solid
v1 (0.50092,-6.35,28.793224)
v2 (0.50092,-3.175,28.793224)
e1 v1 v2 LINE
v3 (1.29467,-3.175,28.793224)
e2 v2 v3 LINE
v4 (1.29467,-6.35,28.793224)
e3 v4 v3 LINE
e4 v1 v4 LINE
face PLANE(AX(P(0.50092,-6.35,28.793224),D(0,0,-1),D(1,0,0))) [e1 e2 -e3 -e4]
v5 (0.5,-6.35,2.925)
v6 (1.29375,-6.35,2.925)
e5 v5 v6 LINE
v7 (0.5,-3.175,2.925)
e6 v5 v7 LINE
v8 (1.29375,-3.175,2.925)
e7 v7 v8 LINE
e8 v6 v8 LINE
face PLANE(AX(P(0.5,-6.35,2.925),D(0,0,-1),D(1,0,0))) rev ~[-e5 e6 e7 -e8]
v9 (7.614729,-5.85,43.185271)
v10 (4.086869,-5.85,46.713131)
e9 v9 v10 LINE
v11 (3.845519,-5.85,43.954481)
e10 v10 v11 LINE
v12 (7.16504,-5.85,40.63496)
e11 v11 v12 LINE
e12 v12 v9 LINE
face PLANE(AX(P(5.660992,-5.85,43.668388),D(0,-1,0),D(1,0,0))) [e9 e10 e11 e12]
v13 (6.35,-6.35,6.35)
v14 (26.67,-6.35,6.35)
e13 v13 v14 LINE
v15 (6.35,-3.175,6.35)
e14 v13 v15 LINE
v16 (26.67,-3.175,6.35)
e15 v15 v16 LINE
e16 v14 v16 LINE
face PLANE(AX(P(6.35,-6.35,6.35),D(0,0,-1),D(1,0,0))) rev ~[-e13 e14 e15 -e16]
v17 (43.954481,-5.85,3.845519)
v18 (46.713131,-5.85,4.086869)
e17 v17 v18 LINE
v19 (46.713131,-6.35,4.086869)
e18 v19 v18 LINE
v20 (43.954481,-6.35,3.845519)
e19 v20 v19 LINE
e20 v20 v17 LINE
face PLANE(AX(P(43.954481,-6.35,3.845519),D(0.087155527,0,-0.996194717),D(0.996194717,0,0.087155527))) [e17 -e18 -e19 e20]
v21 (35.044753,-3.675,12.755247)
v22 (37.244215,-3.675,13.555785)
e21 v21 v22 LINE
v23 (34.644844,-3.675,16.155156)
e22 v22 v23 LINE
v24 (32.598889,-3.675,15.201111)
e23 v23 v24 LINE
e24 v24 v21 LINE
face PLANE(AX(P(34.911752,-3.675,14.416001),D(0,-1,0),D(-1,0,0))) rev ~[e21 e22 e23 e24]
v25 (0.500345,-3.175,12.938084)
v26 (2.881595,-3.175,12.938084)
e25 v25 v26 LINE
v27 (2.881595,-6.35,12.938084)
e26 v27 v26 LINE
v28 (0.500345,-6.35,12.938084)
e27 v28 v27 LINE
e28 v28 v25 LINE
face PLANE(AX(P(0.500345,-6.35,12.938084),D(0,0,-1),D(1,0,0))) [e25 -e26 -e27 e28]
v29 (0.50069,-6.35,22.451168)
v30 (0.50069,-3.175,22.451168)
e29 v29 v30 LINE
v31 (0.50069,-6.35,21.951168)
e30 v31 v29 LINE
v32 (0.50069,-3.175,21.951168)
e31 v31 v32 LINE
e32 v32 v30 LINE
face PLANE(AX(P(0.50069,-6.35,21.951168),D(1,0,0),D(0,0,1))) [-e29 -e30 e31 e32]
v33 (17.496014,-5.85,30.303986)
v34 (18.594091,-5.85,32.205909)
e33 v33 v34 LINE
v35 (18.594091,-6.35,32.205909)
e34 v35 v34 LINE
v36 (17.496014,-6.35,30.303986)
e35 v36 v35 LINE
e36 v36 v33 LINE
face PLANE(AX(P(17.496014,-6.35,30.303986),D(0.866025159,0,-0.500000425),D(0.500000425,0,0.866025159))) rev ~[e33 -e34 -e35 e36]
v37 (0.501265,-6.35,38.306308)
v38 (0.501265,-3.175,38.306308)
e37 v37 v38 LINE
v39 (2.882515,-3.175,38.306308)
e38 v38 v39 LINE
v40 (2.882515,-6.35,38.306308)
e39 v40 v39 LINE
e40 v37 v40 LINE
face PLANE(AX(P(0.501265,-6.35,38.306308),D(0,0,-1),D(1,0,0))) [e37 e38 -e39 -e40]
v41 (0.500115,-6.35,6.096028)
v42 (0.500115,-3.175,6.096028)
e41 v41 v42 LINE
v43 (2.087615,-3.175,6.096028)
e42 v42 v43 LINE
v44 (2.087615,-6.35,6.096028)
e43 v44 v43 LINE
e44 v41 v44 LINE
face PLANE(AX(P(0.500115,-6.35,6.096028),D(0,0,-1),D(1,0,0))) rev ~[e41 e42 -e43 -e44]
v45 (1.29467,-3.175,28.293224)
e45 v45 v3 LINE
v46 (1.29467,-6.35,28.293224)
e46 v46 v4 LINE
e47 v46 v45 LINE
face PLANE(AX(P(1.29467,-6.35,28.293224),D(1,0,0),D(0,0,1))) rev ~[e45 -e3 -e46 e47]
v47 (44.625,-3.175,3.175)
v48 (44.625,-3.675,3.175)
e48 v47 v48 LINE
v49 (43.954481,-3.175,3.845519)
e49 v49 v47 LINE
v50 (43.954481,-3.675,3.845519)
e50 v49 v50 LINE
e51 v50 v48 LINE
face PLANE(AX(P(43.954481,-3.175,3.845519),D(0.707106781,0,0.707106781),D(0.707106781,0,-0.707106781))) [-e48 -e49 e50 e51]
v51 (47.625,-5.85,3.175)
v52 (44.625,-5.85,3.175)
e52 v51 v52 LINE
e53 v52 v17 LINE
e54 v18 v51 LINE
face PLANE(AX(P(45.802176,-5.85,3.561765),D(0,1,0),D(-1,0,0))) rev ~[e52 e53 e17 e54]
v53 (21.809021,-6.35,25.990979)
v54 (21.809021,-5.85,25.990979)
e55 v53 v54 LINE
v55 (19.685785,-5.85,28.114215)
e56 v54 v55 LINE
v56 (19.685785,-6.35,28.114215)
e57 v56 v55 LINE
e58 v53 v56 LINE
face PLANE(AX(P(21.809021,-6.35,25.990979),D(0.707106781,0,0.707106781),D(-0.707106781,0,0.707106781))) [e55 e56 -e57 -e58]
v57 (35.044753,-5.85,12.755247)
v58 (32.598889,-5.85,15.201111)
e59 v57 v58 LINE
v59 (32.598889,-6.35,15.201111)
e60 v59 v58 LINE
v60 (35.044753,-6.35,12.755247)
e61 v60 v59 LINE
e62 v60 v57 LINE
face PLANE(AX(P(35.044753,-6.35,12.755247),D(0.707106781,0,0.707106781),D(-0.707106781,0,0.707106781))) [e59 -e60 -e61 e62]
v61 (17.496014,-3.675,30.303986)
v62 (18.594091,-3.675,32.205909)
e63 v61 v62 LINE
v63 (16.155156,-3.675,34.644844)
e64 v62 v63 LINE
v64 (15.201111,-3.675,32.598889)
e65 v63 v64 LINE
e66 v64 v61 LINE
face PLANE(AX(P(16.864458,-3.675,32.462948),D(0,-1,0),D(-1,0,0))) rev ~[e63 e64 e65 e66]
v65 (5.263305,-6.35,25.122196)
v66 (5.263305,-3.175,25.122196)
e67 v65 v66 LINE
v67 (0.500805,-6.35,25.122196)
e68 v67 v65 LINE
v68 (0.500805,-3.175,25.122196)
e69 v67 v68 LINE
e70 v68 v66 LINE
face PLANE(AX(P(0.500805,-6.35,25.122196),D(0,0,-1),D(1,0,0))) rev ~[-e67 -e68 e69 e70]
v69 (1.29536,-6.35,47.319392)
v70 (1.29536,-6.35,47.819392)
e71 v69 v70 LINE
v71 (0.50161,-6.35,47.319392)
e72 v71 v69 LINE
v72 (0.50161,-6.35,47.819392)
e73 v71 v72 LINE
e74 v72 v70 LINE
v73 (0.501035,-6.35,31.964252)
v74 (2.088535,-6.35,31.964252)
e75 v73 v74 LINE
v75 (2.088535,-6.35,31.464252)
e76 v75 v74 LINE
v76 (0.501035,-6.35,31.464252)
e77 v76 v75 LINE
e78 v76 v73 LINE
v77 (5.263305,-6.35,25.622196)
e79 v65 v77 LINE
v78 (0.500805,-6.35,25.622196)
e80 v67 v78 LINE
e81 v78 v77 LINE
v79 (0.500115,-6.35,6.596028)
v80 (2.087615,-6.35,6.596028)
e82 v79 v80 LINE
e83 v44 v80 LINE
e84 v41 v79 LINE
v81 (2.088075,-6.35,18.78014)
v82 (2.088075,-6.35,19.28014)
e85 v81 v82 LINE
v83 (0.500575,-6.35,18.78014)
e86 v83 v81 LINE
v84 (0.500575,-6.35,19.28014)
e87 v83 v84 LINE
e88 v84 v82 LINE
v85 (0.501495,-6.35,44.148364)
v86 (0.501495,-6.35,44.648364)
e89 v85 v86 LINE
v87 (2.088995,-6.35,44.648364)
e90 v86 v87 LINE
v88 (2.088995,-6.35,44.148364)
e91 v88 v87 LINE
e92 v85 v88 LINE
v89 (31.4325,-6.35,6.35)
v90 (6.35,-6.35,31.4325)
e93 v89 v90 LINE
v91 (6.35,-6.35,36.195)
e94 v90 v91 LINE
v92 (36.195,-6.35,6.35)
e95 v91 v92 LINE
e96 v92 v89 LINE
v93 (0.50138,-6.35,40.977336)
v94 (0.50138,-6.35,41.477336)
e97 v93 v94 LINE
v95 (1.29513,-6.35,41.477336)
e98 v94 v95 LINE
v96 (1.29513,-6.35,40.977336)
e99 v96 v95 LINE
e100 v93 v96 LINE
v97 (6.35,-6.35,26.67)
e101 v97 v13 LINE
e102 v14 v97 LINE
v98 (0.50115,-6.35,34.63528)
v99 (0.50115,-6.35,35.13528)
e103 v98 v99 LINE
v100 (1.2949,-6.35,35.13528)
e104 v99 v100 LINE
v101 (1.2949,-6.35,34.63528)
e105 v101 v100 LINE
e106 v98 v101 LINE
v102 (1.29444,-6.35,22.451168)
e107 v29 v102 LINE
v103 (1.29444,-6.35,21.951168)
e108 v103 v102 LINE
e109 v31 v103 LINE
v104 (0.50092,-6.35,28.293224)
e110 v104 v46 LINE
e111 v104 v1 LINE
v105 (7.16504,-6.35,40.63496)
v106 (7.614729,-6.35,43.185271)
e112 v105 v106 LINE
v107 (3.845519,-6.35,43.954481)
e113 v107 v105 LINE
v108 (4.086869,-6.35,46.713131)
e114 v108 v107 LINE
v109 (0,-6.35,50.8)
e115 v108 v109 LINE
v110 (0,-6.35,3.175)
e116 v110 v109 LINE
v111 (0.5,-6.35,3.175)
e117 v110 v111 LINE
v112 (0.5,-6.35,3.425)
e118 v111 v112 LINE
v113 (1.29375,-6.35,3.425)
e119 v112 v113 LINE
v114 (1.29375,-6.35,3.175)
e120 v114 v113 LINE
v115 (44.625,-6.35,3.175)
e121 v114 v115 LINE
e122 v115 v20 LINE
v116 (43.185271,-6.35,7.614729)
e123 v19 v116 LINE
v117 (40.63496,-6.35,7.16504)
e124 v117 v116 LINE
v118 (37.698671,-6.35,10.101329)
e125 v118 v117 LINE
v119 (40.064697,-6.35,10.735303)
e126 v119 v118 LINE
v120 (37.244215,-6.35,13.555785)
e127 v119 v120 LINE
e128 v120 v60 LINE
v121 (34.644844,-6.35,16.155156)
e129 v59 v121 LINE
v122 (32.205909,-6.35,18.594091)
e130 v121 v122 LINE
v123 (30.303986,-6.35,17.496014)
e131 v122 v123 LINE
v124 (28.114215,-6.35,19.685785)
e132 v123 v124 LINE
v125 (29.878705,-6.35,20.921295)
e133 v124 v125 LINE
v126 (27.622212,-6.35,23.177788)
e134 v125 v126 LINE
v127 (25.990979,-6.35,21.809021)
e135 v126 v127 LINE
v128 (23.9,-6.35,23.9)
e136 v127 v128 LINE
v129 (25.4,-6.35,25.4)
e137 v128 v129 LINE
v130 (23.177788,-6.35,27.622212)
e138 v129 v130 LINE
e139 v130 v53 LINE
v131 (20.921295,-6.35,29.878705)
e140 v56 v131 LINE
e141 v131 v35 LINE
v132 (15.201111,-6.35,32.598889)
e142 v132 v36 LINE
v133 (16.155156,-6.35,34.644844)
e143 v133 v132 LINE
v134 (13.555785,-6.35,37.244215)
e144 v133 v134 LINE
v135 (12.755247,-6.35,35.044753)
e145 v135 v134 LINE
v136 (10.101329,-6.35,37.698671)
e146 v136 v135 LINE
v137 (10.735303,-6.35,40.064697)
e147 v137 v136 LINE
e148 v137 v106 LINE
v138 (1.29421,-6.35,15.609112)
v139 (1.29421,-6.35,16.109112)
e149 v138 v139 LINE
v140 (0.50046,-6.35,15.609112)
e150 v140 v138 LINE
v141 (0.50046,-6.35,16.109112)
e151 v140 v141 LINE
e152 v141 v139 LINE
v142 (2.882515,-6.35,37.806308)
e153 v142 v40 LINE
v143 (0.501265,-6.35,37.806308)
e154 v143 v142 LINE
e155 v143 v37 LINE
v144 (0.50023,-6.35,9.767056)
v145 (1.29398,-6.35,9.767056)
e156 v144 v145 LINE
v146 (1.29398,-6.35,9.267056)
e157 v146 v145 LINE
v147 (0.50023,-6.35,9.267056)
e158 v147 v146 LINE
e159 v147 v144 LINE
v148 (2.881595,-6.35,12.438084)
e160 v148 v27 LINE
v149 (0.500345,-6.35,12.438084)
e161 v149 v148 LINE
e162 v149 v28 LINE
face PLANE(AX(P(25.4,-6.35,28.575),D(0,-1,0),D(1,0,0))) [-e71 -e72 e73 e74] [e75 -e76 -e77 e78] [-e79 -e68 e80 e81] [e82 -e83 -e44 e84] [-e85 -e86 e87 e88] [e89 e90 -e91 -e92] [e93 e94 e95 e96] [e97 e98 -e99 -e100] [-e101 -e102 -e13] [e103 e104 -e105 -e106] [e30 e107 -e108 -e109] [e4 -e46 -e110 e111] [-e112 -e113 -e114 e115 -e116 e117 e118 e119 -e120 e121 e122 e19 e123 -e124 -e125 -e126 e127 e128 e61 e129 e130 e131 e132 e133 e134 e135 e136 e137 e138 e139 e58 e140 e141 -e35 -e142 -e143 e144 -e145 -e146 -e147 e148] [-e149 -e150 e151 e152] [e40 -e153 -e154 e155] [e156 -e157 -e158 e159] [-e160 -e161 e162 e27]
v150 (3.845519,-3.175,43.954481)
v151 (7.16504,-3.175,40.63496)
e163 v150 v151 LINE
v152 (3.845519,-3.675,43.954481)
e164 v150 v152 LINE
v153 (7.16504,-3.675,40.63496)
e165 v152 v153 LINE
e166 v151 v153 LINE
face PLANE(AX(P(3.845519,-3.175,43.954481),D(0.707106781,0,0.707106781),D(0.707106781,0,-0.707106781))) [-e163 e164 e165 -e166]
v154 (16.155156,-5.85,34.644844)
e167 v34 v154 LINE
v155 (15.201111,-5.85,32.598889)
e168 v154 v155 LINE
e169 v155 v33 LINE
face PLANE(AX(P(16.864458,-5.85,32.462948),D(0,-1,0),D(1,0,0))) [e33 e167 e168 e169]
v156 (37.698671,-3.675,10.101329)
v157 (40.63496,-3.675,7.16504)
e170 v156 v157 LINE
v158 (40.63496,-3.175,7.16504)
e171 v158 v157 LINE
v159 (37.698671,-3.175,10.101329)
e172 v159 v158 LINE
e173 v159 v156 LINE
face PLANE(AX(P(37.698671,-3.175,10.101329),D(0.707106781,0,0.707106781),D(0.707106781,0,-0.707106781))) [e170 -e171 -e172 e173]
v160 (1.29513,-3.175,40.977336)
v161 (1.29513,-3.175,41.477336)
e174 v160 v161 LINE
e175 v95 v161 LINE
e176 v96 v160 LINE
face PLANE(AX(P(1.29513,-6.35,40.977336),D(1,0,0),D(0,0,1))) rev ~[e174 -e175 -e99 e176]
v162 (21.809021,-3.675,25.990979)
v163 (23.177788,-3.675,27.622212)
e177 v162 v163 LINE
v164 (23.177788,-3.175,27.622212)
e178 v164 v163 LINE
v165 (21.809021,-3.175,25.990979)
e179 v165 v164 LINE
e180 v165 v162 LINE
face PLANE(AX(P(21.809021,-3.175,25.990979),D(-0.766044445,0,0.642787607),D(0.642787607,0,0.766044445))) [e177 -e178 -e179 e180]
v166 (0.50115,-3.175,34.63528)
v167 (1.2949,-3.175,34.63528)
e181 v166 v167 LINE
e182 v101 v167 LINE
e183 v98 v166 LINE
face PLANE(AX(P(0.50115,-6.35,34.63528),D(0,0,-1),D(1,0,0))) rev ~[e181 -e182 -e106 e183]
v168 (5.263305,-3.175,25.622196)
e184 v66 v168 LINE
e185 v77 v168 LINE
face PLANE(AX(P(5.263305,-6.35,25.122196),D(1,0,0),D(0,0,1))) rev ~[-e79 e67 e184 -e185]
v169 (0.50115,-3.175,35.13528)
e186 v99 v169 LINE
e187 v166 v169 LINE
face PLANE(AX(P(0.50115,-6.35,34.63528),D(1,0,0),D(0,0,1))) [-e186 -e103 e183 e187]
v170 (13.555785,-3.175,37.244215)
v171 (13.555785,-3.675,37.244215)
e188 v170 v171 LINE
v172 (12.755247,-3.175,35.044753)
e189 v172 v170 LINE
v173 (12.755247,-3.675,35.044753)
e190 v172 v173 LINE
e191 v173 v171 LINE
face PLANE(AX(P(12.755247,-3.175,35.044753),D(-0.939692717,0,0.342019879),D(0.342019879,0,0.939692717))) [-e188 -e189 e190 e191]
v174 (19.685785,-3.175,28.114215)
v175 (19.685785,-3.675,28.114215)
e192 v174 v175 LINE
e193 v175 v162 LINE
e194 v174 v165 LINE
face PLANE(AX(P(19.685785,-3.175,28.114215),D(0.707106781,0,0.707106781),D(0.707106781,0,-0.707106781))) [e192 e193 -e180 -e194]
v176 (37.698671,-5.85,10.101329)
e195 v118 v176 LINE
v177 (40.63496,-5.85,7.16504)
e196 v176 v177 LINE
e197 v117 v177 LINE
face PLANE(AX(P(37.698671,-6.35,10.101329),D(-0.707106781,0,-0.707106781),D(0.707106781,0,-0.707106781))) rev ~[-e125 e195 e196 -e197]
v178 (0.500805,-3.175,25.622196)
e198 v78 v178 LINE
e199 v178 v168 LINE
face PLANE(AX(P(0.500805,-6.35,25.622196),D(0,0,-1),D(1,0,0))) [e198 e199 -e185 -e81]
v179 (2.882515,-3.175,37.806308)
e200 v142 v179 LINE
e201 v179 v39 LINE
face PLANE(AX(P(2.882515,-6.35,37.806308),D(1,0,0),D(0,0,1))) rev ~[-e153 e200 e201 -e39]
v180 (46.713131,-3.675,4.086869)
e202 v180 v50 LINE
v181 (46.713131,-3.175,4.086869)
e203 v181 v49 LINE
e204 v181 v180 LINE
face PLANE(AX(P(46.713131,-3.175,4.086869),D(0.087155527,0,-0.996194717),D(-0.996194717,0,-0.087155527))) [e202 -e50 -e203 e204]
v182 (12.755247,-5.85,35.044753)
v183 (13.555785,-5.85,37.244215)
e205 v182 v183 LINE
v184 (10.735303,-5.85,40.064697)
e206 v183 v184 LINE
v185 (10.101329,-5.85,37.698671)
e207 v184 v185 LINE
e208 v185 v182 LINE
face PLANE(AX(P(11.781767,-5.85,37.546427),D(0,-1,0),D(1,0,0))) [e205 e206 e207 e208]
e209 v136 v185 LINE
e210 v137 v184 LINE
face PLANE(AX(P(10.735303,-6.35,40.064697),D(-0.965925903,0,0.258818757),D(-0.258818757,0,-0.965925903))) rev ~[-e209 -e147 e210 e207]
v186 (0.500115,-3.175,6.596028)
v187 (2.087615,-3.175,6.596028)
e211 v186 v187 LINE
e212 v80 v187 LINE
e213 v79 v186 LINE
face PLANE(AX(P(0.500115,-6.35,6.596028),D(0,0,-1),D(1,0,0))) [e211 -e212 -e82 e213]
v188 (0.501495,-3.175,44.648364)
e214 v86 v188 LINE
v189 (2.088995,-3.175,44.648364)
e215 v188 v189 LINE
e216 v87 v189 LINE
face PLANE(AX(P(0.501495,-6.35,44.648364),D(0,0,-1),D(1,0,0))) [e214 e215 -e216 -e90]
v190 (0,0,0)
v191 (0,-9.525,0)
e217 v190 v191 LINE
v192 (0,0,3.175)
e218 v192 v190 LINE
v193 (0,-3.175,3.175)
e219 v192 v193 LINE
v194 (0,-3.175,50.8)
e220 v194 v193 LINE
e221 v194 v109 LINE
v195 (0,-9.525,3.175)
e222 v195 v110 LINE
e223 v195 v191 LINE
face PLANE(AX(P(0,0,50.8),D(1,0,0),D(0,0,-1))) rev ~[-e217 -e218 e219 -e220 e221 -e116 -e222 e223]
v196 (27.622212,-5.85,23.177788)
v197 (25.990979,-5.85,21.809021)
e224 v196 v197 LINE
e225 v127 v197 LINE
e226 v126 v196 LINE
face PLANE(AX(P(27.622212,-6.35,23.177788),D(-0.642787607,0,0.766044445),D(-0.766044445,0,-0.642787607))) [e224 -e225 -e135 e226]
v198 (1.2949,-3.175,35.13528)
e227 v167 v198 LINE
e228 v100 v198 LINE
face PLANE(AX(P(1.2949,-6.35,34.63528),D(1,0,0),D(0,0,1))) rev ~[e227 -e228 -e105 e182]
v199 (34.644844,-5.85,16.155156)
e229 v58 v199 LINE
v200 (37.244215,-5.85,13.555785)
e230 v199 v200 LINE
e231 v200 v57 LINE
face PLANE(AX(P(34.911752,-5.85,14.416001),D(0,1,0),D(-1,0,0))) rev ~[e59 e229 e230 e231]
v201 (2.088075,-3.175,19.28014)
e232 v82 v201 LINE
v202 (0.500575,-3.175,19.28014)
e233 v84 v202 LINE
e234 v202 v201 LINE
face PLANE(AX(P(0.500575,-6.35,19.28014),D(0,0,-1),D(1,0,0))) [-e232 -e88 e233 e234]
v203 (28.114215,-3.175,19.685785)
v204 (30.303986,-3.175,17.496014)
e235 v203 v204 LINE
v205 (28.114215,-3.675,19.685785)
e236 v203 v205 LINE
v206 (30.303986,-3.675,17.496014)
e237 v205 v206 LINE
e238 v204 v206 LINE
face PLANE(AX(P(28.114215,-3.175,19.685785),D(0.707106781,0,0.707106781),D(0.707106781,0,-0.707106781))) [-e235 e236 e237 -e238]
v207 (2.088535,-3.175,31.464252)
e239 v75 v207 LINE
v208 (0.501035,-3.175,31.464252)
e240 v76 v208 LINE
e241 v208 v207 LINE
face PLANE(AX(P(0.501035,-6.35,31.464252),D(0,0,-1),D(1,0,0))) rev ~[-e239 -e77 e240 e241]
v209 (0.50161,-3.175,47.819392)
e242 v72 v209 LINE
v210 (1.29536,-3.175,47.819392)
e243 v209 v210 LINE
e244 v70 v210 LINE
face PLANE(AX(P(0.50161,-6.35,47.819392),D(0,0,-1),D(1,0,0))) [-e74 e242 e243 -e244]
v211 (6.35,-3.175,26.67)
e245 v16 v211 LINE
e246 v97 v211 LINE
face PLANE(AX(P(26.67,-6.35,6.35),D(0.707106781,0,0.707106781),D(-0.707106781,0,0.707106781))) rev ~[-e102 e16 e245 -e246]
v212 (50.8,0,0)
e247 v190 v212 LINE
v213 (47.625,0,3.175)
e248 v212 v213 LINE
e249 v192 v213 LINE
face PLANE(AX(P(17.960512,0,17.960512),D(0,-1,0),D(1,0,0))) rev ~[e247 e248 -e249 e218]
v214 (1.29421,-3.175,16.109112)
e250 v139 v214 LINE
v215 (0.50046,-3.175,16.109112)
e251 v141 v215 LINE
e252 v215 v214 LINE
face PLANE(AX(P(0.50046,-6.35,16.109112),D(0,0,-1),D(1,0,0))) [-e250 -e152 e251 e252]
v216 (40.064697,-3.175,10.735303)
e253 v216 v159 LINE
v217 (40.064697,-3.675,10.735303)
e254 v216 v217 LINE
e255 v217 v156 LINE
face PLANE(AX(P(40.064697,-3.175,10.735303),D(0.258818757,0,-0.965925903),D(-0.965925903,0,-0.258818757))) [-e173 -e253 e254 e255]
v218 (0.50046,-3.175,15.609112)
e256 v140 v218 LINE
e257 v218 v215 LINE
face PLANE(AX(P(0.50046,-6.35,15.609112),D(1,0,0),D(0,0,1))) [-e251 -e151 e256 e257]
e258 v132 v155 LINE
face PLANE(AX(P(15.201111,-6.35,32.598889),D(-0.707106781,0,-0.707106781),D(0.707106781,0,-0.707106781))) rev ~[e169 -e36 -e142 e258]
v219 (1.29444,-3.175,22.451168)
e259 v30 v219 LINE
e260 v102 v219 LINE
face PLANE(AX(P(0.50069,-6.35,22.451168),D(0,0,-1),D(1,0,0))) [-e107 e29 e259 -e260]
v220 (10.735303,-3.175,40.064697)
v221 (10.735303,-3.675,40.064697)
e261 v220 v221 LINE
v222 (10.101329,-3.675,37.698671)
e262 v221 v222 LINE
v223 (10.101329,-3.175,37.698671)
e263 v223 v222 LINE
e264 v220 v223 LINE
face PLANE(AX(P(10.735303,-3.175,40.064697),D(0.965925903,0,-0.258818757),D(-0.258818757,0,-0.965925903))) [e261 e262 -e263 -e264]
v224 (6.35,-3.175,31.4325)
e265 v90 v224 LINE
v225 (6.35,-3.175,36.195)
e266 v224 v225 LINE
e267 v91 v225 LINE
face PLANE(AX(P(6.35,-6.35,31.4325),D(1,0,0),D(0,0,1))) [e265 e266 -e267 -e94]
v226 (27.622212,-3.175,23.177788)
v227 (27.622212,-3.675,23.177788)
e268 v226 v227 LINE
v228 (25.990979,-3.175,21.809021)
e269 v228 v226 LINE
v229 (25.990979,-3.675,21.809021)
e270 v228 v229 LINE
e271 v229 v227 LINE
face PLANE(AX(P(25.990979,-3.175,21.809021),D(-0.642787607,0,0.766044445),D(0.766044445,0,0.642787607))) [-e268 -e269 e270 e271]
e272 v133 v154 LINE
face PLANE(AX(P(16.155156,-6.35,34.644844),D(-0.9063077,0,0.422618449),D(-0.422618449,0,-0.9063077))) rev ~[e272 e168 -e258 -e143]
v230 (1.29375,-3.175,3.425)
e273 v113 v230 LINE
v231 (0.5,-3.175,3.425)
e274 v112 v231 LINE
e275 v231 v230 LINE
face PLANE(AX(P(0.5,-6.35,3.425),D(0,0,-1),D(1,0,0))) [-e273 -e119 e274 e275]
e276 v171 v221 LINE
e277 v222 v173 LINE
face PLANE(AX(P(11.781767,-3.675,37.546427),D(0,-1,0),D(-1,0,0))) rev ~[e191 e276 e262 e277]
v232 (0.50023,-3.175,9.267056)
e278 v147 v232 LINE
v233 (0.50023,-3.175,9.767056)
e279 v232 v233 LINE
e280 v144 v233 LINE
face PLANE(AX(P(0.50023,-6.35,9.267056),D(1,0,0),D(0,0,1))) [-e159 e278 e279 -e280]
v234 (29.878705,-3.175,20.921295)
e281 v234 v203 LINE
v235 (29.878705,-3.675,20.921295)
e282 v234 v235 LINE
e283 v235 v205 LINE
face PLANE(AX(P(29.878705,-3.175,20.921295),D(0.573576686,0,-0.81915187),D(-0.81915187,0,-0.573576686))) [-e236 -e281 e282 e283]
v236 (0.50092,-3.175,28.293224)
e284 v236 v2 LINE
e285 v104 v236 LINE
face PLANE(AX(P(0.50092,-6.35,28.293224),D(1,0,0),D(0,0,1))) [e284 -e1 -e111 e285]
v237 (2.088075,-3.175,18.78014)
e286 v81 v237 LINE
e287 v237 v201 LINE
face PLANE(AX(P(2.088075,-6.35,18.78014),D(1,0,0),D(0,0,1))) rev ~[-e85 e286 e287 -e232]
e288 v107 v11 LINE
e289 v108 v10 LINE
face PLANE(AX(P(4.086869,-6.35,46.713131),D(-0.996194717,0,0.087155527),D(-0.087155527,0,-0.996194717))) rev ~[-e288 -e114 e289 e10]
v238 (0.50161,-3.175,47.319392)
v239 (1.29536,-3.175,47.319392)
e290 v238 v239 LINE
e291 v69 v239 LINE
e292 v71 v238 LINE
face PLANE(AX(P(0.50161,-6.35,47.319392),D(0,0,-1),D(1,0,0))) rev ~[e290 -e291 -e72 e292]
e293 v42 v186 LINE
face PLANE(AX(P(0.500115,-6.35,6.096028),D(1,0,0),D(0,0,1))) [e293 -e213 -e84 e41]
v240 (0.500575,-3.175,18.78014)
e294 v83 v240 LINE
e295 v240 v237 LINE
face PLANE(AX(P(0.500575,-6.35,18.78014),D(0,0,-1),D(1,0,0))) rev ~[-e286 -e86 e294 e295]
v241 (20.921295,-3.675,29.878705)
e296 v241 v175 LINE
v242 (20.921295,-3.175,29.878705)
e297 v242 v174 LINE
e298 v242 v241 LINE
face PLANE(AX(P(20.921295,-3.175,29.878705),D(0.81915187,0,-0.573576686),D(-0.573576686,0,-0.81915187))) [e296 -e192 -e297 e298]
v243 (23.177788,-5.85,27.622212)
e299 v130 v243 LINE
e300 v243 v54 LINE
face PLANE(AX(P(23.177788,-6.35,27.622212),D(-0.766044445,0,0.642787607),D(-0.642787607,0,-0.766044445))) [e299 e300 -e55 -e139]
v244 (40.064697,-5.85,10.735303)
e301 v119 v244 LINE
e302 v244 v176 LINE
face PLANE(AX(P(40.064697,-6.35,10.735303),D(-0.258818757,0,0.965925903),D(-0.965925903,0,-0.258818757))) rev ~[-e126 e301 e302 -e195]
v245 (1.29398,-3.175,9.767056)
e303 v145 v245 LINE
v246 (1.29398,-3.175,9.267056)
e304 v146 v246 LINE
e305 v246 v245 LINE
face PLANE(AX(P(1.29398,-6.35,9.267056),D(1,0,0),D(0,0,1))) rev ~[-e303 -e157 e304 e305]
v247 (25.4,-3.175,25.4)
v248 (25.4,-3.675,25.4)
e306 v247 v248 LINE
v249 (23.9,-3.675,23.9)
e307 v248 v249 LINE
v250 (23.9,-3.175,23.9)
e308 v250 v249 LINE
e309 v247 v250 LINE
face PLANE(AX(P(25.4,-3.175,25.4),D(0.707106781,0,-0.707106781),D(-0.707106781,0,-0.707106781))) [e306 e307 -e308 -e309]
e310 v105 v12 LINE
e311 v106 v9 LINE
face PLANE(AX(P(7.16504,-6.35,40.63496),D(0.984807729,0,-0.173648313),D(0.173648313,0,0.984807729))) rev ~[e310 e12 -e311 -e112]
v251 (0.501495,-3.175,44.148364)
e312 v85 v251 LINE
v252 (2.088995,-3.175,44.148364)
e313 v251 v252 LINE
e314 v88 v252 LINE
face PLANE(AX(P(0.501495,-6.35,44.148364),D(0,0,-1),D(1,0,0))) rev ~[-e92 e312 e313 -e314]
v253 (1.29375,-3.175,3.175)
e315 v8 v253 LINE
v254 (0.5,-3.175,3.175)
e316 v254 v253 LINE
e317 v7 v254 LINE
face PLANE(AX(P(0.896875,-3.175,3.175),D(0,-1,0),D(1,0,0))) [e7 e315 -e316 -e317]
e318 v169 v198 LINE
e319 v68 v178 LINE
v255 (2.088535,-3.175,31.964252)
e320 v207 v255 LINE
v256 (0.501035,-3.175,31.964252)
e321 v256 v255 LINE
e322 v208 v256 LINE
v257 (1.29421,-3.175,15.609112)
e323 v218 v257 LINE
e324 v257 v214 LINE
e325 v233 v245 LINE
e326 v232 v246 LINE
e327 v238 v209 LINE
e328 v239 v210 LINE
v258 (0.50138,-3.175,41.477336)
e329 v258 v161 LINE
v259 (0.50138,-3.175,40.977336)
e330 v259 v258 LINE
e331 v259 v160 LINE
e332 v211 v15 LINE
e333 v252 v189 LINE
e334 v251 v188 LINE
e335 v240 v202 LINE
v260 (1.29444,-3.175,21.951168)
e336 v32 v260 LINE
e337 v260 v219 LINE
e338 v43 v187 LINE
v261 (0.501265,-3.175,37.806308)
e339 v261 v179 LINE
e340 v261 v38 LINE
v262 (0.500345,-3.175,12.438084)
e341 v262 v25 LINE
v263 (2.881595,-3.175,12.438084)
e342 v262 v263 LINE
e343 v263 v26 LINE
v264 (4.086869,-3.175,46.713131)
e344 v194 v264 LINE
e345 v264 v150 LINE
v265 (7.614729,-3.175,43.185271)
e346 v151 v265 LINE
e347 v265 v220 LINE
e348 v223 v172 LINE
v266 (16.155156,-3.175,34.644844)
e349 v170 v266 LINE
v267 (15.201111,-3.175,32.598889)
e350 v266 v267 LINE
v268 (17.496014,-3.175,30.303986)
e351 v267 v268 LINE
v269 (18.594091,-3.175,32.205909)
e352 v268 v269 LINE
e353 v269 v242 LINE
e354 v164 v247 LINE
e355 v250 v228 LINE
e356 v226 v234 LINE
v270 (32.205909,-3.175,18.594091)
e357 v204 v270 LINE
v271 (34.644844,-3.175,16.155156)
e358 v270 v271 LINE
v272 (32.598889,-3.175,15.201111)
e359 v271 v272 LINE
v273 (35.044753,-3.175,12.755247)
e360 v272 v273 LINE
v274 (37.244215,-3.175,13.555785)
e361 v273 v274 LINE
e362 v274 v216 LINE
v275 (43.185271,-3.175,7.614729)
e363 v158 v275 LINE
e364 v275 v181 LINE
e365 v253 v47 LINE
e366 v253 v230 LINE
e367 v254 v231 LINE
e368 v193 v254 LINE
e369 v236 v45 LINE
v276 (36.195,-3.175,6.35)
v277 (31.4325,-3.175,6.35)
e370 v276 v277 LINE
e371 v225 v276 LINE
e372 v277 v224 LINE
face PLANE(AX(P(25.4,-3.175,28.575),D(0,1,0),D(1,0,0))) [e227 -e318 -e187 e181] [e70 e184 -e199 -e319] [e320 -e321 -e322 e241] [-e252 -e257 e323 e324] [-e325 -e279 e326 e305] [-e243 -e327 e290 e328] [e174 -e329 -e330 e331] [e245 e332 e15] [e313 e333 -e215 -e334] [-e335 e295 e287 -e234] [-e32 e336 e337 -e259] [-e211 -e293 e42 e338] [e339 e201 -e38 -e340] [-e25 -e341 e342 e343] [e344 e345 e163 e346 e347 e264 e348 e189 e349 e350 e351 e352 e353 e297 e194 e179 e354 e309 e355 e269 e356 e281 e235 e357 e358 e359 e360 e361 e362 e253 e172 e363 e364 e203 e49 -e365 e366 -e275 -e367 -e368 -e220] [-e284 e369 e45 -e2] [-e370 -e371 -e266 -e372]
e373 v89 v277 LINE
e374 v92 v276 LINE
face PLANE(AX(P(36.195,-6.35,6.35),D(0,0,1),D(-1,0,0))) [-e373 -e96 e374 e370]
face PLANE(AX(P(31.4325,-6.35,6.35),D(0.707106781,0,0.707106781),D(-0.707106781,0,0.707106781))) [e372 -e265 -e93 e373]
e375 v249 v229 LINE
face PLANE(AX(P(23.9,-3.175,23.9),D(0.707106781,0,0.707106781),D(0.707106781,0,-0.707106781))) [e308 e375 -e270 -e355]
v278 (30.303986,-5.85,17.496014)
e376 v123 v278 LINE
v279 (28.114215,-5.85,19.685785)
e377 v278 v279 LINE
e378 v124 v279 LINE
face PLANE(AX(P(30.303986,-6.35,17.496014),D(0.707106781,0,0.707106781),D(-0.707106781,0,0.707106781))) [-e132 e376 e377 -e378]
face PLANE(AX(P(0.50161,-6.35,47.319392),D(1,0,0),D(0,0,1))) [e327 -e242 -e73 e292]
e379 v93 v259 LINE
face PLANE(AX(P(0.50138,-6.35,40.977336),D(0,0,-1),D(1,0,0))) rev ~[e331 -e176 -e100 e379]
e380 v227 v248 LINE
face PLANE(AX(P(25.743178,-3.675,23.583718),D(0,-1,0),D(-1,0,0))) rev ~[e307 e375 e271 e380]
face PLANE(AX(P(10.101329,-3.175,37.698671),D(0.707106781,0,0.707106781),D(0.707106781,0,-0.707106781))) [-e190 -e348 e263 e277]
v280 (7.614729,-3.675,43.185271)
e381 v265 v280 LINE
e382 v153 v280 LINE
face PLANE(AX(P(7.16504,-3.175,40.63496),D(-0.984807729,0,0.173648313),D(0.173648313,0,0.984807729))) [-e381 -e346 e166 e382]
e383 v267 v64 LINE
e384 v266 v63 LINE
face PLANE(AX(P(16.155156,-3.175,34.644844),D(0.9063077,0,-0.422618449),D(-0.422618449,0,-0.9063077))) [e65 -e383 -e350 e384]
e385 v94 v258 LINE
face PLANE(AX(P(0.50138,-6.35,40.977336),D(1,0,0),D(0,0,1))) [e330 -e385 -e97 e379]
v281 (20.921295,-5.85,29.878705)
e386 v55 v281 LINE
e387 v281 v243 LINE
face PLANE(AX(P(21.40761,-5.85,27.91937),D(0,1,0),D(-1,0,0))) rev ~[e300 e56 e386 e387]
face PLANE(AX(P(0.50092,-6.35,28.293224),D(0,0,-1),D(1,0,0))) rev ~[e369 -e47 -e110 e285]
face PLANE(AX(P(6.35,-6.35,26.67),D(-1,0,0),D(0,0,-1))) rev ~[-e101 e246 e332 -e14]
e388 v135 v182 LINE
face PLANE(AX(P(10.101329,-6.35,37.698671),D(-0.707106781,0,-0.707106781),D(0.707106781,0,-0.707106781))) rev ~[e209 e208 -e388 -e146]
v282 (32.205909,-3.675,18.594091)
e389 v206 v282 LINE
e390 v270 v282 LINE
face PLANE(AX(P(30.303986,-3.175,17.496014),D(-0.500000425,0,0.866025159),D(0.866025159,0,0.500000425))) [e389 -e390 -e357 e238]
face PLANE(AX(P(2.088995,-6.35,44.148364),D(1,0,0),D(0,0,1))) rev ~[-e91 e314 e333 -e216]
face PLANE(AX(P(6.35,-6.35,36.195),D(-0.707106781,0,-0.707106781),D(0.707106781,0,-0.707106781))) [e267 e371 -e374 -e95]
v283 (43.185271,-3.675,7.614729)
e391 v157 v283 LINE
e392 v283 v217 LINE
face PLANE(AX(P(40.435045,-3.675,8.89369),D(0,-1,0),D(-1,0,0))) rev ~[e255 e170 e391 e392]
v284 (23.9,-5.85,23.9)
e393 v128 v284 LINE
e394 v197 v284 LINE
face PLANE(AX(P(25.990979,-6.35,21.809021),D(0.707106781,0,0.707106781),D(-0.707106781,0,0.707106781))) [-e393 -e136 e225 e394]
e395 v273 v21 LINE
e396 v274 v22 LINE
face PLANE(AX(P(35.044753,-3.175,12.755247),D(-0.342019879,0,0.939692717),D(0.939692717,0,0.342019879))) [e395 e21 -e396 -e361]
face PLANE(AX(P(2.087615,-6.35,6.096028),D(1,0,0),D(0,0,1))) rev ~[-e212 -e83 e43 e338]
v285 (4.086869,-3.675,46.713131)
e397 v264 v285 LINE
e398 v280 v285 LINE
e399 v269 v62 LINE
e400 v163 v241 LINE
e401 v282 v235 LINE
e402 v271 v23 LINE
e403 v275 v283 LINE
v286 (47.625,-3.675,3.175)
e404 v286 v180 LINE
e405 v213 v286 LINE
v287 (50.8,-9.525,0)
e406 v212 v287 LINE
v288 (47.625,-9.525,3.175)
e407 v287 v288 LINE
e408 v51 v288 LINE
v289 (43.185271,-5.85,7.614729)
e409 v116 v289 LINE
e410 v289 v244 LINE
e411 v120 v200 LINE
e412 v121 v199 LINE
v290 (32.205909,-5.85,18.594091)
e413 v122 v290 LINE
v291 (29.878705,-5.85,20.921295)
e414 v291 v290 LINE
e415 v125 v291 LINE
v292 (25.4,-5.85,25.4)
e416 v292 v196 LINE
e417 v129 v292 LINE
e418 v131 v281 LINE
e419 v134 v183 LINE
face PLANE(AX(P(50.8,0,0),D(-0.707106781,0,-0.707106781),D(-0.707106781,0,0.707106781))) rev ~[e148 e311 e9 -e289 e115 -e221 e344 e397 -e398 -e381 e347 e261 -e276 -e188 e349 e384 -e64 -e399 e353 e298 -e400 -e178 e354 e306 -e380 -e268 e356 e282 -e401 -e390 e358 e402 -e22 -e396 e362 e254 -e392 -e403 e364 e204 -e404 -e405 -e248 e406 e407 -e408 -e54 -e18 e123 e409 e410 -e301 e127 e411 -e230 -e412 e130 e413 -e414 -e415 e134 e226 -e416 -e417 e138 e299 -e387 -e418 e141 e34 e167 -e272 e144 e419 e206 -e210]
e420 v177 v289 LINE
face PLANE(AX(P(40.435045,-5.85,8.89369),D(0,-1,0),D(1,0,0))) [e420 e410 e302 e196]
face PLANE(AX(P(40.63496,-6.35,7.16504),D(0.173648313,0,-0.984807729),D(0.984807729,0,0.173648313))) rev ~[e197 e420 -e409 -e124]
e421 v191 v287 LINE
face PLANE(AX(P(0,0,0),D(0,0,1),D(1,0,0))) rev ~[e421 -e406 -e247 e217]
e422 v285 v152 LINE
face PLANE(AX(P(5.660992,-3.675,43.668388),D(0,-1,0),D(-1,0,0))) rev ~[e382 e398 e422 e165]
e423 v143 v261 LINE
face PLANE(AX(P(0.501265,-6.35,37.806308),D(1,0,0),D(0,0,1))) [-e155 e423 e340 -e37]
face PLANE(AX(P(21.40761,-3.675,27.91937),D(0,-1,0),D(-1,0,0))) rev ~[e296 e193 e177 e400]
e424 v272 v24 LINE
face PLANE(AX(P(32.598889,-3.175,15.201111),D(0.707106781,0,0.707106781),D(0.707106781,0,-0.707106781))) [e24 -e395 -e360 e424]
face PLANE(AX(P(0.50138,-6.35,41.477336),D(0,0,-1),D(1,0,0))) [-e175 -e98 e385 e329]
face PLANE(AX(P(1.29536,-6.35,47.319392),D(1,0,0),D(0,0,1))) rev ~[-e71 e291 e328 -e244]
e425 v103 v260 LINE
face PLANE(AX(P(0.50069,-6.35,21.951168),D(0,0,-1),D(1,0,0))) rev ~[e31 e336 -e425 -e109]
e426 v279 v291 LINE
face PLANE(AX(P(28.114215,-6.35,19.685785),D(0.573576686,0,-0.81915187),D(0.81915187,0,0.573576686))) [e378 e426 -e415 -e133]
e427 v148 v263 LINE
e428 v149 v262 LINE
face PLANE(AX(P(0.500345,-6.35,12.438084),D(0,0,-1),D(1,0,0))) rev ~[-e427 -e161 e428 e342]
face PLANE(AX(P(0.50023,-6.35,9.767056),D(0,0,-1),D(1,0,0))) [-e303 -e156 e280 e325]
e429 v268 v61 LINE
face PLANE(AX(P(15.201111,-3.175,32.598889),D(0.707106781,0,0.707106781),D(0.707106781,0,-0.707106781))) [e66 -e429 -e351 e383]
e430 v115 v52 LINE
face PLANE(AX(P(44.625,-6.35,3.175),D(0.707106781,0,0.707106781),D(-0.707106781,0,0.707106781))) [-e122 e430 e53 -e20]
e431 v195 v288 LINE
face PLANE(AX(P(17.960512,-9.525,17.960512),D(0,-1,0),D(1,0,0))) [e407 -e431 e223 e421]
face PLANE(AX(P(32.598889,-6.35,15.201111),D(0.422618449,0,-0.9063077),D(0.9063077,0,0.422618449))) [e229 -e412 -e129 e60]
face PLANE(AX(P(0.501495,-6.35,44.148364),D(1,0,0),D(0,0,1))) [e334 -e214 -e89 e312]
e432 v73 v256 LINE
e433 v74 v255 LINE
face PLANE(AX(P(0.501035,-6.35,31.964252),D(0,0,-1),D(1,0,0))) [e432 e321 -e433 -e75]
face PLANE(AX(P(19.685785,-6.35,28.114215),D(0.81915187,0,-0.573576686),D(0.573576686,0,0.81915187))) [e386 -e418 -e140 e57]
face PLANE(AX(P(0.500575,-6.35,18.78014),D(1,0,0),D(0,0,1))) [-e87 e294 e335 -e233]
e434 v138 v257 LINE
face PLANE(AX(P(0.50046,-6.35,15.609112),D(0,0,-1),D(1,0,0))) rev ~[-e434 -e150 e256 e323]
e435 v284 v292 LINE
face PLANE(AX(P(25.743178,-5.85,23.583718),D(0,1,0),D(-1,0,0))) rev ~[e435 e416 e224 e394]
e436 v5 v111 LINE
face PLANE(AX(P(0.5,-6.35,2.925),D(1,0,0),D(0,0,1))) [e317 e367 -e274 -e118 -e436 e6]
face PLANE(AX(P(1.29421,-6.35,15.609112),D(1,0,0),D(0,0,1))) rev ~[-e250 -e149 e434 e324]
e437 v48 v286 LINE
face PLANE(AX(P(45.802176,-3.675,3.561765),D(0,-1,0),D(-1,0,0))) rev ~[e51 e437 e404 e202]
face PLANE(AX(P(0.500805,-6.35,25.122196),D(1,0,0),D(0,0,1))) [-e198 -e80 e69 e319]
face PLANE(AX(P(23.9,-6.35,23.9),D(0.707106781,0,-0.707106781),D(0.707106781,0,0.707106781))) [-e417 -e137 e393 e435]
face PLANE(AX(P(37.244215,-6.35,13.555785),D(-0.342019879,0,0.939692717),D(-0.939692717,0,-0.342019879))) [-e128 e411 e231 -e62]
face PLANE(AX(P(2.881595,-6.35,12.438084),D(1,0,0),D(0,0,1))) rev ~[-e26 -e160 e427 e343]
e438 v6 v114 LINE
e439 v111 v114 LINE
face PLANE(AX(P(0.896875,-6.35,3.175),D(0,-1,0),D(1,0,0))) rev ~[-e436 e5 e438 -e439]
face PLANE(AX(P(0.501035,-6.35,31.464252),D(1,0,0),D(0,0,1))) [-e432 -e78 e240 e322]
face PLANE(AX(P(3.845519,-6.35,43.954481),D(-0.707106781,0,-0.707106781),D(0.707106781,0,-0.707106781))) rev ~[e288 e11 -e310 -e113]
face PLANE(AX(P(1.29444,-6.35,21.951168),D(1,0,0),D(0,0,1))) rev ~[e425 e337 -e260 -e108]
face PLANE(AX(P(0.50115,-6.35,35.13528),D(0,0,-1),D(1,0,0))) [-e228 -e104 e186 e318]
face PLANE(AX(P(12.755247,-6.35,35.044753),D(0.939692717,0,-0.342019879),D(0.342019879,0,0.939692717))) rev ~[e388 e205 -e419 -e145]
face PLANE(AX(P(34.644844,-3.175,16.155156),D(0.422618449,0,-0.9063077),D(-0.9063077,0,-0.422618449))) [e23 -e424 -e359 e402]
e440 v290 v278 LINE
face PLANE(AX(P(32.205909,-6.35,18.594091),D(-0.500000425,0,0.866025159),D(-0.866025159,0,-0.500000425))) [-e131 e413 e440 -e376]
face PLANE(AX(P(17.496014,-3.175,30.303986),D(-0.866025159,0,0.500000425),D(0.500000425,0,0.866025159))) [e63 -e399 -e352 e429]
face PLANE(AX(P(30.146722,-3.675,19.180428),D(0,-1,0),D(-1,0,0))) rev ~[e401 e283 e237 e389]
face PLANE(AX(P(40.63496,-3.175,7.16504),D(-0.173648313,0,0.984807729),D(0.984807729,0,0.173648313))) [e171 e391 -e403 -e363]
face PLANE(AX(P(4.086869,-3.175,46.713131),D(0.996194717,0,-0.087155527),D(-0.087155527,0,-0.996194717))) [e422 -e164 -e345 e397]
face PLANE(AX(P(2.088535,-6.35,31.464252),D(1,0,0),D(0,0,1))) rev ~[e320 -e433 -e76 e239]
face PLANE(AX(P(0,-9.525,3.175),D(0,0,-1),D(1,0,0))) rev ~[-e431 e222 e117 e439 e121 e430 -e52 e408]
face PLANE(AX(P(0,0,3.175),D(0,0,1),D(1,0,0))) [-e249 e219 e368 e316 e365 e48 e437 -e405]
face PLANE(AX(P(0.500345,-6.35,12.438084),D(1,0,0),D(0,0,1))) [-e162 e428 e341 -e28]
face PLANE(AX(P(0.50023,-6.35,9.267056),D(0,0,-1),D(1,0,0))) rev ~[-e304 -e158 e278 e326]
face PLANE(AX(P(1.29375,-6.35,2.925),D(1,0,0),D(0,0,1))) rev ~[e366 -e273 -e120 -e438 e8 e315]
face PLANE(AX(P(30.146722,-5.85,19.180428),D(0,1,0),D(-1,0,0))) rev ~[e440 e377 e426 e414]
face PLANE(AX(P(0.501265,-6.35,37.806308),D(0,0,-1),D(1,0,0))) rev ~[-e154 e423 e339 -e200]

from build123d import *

# Parameters (mm, degrees)
PAD_DEPTH       = 9.525
SKETCH001_W     = 50.8
SKETCH001_H     = 50.8
POCKET_DEPTH    = 3.175
SKETCH002_W     = 50.8
SKETCH002_H     = 50.8
POCKET001_DEPTH = 3.175
POCKET002_DEPTH = 3.175
SKETCH004_W     = 0.79375
SKETCH004_H     = 0.5
SKETCH004_W_2   = 1.5875
SKETCH004_W_3   = 2.38125
SKETCH004_W_4   = 4.7625
POCKET003_DEPTH = 3.175
POCKET004_DEPTH = 0.5
POCKET005_DEPTH = 0.5


with BuildPart() as part:
    # Sketch → Pad (new body)
    with BuildSketch(Plane.XZ):
        Polygon((0, 0), (50.8, 0), (0, 50.8), align=None)
    extrude(amount=PAD_DEPTH)

    # Sketch001 (on Face5 of Pad) → Pocket (cut)
    with BuildSketch(Plane.XZ.offset(9.525)):
        with Locations((25.4, 28.575)):
            Rectangle(SKETCH001_W, SKETCH001_H)
    extrude(amount=-POCKET_DEPTH, mode=Mode.SUBTRACT)

    # Sketch002 (on Face4 of Pocket) → Pocket001 (cut)
    with BuildSketch(Plane(origin=(0, 0, 0), x_dir=(1, 0, 0), z_dir=(0, 1, 0))):
        with Locations((25.4, -28.575)):
            Rectangle(SKETCH002_W, SKETCH002_H)
    extrude(amount=-POCKET001_DEPTH, mode=Mode.SUBTRACT)

    # Sketch003 (on Face7 of Pocket001) → Pocket002 (cut)
    with BuildSketch(Plane.XZ.offset(6.35)):
        Polygon((6.35, 6.35), (26.67, 6.35), (6.35, 26.67), align=None)
        Polygon((6.35, 31.4325), (6.35, 36.195), (36.195, 6.35), (31.4325, 6.35), align=None)
    extrude(amount=-POCKET002_DEPTH, mode=Mode.SUBTRACT)

    # Sketch004 (on Face7 of Pocket002) → Pocket003 (cut)
    with BuildSketch(Plane.XZ.offset(6.35)):
        with Locations((0.896875, 3.175)):
            Rectangle(SKETCH004_W, SKETCH004_H)
        with Locations((1.293865, 6.346028)):
            Rectangle(SKETCH004_W_2, SKETCH004_H)
        with Locations((0.897105, 9.517056)):
            Rectangle(SKETCH004_W, SKETCH004_H)
        with Locations((1.69097, 12.688084)):
            Rectangle(SKETCH004_W_3, SKETCH004_H)
        with Locations((0.897335, 15.859112)):
            Rectangle(SKETCH004_W, SKETCH004_H)
        with Locations((1.294325, 19.03014)):
            Rectangle(SKETCH004_W_2, SKETCH004_H)
        with Locations((0.897565, 22.201168)):
            Rectangle(SKETCH004_W, SKETCH004_H)
        with Locations((2.882055, 25.372196)):
            Rectangle(SKETCH004_W_4, SKETCH004_H)
        with Locations((0.897795, 28.543224)):
            Rectangle(SKETCH004_W, SKETCH004_H)
        with Locations((1.294785, 31.714252)):
            Rectangle(SKETCH004_W_2, SKETCH004_H)
        with Locations((0.898025, 34.88528)):
            Rectangle(SKETCH004_W, SKETCH004_H)
        with Locations((1.69189, 38.056308)):
            Rectangle(SKETCH004_W_3, SKETCH004_H)
        with Locations((0.898255, 41.227336)):
            Rectangle(SKETCH004_W, SKETCH004_H)
        with Locations((1.295245, 44.398364)):
            Rectangle(SKETCH004_W_2, SKETCH004_H)
        with Locations((0.898485, 47.569392)):
            Rectangle(SKETCH004_W, SKETCH004_H)
    extrude(amount=-POCKET003_DEPTH, mode=Mode.SUBTRACT)

    # Sketch005 (on Face7 of Pocket003) → Pocket004 (cut)
    with BuildSketch(Plane.XZ.offset(6.35)):
        Polygon((43.954481, 3.845519), (46.713131, 4.086869), (47.625, 3.175), (44.625, 3.175), align=None)
        Polygon((40.63496, 7.16504), (43.185271, 7.614729), (40.064697, 10.735303), (37.698671, 10.101329), align=None)
        Polygon((28.114215, 19.685785), (29.878705, 20.921295), (32.205909, 18.594091), (30.303986, 17.496014), align=None)
        Polygon((25.4, 25.4), (27.622212, 23.177788), (25.990979, 21.809021), (23.9, 23.9), align=None)
        Polygon((23.177788, 27.622212), (21.809021, 25.990979), (19.685785, 28.114215), (20.921295, 29.878705), align=None)
        Polygon((15.201111, 32.598889), (17.496014, 30.303986), (18.594091, 32.205909), (16.155156, 34.644844), align=None)
        Polygon((13.555785, 37.244215), (10.735303, 40.064697), (10.101329, 37.698671), (12.755247, 35.044753), align=None)
        Polygon((7.614729, 43.185271), (4.086869, 46.713131), (3.845519, 43.954481), (7.16504, 40.63496), align=None)
        Polygon((32.598889, 15.201111), (34.644844, 16.155156), (37.244215, 13.555785), (35.044753, 12.755247), align=None)
    extrude(amount=-POCKET004_DEPTH, mode=Mode.SUBTRACT)

    # Sketch006 → Pocket005 (cut)
    with BuildSketch(Plane(origin=(0, -3.175, 0), x_dir=(1, 0, 0), z_dir=(0, 1, 0))):
        Polygon((43.185271, -7.614729), (40.064697, -10.735303), (37.698671, -10.101329), (40.63496, -7.16504), align=None)
        Polygon((37.244215, -13.555785), (34.644844, -16.155156), (32.598889, -15.201111), (35.044753, -12.755247), align=None)
        Polygon((32.205909, -18.594091), (29.878705, -20.921295), (28.114215, -19.685785), (30.303986, -17.496014), align=None)
        Polygon((27.622212, -23.177788), (25.4, -25.4), (23.9, -23.9), (25.990979, -21.809021), align=None)
        Polygon((23.177788, -27.622212), (20.921295, -29.878705), (19.685785, -28.114215), (21.809021, -25.990979), align=None)
        Polygon((17.496014, -30.303986), (18.594091, -32.205909), (16.155156, -34.644844), (15.201111, -32.598889), align=None)
        Polygon((13.555785, -37.244215), (10.735303, -40.064697), (10.101329, -37.698671), (12.755247, -35.044753), align=None)
        Polygon((7.614729, -43.185271), (4.086869, -46.713131), (3.845519, -43.954481), (7.16504, -40.63496), align=None)
        Polygon((46.713131, -4.086869), (43.954481, -3.845519), (44.625, -3.175), (47.625, -3.175), align=None)
    extrude(amount=-POCKET005_DEPTH, mode=Mode.SUBTRACT)


solid = part.part
